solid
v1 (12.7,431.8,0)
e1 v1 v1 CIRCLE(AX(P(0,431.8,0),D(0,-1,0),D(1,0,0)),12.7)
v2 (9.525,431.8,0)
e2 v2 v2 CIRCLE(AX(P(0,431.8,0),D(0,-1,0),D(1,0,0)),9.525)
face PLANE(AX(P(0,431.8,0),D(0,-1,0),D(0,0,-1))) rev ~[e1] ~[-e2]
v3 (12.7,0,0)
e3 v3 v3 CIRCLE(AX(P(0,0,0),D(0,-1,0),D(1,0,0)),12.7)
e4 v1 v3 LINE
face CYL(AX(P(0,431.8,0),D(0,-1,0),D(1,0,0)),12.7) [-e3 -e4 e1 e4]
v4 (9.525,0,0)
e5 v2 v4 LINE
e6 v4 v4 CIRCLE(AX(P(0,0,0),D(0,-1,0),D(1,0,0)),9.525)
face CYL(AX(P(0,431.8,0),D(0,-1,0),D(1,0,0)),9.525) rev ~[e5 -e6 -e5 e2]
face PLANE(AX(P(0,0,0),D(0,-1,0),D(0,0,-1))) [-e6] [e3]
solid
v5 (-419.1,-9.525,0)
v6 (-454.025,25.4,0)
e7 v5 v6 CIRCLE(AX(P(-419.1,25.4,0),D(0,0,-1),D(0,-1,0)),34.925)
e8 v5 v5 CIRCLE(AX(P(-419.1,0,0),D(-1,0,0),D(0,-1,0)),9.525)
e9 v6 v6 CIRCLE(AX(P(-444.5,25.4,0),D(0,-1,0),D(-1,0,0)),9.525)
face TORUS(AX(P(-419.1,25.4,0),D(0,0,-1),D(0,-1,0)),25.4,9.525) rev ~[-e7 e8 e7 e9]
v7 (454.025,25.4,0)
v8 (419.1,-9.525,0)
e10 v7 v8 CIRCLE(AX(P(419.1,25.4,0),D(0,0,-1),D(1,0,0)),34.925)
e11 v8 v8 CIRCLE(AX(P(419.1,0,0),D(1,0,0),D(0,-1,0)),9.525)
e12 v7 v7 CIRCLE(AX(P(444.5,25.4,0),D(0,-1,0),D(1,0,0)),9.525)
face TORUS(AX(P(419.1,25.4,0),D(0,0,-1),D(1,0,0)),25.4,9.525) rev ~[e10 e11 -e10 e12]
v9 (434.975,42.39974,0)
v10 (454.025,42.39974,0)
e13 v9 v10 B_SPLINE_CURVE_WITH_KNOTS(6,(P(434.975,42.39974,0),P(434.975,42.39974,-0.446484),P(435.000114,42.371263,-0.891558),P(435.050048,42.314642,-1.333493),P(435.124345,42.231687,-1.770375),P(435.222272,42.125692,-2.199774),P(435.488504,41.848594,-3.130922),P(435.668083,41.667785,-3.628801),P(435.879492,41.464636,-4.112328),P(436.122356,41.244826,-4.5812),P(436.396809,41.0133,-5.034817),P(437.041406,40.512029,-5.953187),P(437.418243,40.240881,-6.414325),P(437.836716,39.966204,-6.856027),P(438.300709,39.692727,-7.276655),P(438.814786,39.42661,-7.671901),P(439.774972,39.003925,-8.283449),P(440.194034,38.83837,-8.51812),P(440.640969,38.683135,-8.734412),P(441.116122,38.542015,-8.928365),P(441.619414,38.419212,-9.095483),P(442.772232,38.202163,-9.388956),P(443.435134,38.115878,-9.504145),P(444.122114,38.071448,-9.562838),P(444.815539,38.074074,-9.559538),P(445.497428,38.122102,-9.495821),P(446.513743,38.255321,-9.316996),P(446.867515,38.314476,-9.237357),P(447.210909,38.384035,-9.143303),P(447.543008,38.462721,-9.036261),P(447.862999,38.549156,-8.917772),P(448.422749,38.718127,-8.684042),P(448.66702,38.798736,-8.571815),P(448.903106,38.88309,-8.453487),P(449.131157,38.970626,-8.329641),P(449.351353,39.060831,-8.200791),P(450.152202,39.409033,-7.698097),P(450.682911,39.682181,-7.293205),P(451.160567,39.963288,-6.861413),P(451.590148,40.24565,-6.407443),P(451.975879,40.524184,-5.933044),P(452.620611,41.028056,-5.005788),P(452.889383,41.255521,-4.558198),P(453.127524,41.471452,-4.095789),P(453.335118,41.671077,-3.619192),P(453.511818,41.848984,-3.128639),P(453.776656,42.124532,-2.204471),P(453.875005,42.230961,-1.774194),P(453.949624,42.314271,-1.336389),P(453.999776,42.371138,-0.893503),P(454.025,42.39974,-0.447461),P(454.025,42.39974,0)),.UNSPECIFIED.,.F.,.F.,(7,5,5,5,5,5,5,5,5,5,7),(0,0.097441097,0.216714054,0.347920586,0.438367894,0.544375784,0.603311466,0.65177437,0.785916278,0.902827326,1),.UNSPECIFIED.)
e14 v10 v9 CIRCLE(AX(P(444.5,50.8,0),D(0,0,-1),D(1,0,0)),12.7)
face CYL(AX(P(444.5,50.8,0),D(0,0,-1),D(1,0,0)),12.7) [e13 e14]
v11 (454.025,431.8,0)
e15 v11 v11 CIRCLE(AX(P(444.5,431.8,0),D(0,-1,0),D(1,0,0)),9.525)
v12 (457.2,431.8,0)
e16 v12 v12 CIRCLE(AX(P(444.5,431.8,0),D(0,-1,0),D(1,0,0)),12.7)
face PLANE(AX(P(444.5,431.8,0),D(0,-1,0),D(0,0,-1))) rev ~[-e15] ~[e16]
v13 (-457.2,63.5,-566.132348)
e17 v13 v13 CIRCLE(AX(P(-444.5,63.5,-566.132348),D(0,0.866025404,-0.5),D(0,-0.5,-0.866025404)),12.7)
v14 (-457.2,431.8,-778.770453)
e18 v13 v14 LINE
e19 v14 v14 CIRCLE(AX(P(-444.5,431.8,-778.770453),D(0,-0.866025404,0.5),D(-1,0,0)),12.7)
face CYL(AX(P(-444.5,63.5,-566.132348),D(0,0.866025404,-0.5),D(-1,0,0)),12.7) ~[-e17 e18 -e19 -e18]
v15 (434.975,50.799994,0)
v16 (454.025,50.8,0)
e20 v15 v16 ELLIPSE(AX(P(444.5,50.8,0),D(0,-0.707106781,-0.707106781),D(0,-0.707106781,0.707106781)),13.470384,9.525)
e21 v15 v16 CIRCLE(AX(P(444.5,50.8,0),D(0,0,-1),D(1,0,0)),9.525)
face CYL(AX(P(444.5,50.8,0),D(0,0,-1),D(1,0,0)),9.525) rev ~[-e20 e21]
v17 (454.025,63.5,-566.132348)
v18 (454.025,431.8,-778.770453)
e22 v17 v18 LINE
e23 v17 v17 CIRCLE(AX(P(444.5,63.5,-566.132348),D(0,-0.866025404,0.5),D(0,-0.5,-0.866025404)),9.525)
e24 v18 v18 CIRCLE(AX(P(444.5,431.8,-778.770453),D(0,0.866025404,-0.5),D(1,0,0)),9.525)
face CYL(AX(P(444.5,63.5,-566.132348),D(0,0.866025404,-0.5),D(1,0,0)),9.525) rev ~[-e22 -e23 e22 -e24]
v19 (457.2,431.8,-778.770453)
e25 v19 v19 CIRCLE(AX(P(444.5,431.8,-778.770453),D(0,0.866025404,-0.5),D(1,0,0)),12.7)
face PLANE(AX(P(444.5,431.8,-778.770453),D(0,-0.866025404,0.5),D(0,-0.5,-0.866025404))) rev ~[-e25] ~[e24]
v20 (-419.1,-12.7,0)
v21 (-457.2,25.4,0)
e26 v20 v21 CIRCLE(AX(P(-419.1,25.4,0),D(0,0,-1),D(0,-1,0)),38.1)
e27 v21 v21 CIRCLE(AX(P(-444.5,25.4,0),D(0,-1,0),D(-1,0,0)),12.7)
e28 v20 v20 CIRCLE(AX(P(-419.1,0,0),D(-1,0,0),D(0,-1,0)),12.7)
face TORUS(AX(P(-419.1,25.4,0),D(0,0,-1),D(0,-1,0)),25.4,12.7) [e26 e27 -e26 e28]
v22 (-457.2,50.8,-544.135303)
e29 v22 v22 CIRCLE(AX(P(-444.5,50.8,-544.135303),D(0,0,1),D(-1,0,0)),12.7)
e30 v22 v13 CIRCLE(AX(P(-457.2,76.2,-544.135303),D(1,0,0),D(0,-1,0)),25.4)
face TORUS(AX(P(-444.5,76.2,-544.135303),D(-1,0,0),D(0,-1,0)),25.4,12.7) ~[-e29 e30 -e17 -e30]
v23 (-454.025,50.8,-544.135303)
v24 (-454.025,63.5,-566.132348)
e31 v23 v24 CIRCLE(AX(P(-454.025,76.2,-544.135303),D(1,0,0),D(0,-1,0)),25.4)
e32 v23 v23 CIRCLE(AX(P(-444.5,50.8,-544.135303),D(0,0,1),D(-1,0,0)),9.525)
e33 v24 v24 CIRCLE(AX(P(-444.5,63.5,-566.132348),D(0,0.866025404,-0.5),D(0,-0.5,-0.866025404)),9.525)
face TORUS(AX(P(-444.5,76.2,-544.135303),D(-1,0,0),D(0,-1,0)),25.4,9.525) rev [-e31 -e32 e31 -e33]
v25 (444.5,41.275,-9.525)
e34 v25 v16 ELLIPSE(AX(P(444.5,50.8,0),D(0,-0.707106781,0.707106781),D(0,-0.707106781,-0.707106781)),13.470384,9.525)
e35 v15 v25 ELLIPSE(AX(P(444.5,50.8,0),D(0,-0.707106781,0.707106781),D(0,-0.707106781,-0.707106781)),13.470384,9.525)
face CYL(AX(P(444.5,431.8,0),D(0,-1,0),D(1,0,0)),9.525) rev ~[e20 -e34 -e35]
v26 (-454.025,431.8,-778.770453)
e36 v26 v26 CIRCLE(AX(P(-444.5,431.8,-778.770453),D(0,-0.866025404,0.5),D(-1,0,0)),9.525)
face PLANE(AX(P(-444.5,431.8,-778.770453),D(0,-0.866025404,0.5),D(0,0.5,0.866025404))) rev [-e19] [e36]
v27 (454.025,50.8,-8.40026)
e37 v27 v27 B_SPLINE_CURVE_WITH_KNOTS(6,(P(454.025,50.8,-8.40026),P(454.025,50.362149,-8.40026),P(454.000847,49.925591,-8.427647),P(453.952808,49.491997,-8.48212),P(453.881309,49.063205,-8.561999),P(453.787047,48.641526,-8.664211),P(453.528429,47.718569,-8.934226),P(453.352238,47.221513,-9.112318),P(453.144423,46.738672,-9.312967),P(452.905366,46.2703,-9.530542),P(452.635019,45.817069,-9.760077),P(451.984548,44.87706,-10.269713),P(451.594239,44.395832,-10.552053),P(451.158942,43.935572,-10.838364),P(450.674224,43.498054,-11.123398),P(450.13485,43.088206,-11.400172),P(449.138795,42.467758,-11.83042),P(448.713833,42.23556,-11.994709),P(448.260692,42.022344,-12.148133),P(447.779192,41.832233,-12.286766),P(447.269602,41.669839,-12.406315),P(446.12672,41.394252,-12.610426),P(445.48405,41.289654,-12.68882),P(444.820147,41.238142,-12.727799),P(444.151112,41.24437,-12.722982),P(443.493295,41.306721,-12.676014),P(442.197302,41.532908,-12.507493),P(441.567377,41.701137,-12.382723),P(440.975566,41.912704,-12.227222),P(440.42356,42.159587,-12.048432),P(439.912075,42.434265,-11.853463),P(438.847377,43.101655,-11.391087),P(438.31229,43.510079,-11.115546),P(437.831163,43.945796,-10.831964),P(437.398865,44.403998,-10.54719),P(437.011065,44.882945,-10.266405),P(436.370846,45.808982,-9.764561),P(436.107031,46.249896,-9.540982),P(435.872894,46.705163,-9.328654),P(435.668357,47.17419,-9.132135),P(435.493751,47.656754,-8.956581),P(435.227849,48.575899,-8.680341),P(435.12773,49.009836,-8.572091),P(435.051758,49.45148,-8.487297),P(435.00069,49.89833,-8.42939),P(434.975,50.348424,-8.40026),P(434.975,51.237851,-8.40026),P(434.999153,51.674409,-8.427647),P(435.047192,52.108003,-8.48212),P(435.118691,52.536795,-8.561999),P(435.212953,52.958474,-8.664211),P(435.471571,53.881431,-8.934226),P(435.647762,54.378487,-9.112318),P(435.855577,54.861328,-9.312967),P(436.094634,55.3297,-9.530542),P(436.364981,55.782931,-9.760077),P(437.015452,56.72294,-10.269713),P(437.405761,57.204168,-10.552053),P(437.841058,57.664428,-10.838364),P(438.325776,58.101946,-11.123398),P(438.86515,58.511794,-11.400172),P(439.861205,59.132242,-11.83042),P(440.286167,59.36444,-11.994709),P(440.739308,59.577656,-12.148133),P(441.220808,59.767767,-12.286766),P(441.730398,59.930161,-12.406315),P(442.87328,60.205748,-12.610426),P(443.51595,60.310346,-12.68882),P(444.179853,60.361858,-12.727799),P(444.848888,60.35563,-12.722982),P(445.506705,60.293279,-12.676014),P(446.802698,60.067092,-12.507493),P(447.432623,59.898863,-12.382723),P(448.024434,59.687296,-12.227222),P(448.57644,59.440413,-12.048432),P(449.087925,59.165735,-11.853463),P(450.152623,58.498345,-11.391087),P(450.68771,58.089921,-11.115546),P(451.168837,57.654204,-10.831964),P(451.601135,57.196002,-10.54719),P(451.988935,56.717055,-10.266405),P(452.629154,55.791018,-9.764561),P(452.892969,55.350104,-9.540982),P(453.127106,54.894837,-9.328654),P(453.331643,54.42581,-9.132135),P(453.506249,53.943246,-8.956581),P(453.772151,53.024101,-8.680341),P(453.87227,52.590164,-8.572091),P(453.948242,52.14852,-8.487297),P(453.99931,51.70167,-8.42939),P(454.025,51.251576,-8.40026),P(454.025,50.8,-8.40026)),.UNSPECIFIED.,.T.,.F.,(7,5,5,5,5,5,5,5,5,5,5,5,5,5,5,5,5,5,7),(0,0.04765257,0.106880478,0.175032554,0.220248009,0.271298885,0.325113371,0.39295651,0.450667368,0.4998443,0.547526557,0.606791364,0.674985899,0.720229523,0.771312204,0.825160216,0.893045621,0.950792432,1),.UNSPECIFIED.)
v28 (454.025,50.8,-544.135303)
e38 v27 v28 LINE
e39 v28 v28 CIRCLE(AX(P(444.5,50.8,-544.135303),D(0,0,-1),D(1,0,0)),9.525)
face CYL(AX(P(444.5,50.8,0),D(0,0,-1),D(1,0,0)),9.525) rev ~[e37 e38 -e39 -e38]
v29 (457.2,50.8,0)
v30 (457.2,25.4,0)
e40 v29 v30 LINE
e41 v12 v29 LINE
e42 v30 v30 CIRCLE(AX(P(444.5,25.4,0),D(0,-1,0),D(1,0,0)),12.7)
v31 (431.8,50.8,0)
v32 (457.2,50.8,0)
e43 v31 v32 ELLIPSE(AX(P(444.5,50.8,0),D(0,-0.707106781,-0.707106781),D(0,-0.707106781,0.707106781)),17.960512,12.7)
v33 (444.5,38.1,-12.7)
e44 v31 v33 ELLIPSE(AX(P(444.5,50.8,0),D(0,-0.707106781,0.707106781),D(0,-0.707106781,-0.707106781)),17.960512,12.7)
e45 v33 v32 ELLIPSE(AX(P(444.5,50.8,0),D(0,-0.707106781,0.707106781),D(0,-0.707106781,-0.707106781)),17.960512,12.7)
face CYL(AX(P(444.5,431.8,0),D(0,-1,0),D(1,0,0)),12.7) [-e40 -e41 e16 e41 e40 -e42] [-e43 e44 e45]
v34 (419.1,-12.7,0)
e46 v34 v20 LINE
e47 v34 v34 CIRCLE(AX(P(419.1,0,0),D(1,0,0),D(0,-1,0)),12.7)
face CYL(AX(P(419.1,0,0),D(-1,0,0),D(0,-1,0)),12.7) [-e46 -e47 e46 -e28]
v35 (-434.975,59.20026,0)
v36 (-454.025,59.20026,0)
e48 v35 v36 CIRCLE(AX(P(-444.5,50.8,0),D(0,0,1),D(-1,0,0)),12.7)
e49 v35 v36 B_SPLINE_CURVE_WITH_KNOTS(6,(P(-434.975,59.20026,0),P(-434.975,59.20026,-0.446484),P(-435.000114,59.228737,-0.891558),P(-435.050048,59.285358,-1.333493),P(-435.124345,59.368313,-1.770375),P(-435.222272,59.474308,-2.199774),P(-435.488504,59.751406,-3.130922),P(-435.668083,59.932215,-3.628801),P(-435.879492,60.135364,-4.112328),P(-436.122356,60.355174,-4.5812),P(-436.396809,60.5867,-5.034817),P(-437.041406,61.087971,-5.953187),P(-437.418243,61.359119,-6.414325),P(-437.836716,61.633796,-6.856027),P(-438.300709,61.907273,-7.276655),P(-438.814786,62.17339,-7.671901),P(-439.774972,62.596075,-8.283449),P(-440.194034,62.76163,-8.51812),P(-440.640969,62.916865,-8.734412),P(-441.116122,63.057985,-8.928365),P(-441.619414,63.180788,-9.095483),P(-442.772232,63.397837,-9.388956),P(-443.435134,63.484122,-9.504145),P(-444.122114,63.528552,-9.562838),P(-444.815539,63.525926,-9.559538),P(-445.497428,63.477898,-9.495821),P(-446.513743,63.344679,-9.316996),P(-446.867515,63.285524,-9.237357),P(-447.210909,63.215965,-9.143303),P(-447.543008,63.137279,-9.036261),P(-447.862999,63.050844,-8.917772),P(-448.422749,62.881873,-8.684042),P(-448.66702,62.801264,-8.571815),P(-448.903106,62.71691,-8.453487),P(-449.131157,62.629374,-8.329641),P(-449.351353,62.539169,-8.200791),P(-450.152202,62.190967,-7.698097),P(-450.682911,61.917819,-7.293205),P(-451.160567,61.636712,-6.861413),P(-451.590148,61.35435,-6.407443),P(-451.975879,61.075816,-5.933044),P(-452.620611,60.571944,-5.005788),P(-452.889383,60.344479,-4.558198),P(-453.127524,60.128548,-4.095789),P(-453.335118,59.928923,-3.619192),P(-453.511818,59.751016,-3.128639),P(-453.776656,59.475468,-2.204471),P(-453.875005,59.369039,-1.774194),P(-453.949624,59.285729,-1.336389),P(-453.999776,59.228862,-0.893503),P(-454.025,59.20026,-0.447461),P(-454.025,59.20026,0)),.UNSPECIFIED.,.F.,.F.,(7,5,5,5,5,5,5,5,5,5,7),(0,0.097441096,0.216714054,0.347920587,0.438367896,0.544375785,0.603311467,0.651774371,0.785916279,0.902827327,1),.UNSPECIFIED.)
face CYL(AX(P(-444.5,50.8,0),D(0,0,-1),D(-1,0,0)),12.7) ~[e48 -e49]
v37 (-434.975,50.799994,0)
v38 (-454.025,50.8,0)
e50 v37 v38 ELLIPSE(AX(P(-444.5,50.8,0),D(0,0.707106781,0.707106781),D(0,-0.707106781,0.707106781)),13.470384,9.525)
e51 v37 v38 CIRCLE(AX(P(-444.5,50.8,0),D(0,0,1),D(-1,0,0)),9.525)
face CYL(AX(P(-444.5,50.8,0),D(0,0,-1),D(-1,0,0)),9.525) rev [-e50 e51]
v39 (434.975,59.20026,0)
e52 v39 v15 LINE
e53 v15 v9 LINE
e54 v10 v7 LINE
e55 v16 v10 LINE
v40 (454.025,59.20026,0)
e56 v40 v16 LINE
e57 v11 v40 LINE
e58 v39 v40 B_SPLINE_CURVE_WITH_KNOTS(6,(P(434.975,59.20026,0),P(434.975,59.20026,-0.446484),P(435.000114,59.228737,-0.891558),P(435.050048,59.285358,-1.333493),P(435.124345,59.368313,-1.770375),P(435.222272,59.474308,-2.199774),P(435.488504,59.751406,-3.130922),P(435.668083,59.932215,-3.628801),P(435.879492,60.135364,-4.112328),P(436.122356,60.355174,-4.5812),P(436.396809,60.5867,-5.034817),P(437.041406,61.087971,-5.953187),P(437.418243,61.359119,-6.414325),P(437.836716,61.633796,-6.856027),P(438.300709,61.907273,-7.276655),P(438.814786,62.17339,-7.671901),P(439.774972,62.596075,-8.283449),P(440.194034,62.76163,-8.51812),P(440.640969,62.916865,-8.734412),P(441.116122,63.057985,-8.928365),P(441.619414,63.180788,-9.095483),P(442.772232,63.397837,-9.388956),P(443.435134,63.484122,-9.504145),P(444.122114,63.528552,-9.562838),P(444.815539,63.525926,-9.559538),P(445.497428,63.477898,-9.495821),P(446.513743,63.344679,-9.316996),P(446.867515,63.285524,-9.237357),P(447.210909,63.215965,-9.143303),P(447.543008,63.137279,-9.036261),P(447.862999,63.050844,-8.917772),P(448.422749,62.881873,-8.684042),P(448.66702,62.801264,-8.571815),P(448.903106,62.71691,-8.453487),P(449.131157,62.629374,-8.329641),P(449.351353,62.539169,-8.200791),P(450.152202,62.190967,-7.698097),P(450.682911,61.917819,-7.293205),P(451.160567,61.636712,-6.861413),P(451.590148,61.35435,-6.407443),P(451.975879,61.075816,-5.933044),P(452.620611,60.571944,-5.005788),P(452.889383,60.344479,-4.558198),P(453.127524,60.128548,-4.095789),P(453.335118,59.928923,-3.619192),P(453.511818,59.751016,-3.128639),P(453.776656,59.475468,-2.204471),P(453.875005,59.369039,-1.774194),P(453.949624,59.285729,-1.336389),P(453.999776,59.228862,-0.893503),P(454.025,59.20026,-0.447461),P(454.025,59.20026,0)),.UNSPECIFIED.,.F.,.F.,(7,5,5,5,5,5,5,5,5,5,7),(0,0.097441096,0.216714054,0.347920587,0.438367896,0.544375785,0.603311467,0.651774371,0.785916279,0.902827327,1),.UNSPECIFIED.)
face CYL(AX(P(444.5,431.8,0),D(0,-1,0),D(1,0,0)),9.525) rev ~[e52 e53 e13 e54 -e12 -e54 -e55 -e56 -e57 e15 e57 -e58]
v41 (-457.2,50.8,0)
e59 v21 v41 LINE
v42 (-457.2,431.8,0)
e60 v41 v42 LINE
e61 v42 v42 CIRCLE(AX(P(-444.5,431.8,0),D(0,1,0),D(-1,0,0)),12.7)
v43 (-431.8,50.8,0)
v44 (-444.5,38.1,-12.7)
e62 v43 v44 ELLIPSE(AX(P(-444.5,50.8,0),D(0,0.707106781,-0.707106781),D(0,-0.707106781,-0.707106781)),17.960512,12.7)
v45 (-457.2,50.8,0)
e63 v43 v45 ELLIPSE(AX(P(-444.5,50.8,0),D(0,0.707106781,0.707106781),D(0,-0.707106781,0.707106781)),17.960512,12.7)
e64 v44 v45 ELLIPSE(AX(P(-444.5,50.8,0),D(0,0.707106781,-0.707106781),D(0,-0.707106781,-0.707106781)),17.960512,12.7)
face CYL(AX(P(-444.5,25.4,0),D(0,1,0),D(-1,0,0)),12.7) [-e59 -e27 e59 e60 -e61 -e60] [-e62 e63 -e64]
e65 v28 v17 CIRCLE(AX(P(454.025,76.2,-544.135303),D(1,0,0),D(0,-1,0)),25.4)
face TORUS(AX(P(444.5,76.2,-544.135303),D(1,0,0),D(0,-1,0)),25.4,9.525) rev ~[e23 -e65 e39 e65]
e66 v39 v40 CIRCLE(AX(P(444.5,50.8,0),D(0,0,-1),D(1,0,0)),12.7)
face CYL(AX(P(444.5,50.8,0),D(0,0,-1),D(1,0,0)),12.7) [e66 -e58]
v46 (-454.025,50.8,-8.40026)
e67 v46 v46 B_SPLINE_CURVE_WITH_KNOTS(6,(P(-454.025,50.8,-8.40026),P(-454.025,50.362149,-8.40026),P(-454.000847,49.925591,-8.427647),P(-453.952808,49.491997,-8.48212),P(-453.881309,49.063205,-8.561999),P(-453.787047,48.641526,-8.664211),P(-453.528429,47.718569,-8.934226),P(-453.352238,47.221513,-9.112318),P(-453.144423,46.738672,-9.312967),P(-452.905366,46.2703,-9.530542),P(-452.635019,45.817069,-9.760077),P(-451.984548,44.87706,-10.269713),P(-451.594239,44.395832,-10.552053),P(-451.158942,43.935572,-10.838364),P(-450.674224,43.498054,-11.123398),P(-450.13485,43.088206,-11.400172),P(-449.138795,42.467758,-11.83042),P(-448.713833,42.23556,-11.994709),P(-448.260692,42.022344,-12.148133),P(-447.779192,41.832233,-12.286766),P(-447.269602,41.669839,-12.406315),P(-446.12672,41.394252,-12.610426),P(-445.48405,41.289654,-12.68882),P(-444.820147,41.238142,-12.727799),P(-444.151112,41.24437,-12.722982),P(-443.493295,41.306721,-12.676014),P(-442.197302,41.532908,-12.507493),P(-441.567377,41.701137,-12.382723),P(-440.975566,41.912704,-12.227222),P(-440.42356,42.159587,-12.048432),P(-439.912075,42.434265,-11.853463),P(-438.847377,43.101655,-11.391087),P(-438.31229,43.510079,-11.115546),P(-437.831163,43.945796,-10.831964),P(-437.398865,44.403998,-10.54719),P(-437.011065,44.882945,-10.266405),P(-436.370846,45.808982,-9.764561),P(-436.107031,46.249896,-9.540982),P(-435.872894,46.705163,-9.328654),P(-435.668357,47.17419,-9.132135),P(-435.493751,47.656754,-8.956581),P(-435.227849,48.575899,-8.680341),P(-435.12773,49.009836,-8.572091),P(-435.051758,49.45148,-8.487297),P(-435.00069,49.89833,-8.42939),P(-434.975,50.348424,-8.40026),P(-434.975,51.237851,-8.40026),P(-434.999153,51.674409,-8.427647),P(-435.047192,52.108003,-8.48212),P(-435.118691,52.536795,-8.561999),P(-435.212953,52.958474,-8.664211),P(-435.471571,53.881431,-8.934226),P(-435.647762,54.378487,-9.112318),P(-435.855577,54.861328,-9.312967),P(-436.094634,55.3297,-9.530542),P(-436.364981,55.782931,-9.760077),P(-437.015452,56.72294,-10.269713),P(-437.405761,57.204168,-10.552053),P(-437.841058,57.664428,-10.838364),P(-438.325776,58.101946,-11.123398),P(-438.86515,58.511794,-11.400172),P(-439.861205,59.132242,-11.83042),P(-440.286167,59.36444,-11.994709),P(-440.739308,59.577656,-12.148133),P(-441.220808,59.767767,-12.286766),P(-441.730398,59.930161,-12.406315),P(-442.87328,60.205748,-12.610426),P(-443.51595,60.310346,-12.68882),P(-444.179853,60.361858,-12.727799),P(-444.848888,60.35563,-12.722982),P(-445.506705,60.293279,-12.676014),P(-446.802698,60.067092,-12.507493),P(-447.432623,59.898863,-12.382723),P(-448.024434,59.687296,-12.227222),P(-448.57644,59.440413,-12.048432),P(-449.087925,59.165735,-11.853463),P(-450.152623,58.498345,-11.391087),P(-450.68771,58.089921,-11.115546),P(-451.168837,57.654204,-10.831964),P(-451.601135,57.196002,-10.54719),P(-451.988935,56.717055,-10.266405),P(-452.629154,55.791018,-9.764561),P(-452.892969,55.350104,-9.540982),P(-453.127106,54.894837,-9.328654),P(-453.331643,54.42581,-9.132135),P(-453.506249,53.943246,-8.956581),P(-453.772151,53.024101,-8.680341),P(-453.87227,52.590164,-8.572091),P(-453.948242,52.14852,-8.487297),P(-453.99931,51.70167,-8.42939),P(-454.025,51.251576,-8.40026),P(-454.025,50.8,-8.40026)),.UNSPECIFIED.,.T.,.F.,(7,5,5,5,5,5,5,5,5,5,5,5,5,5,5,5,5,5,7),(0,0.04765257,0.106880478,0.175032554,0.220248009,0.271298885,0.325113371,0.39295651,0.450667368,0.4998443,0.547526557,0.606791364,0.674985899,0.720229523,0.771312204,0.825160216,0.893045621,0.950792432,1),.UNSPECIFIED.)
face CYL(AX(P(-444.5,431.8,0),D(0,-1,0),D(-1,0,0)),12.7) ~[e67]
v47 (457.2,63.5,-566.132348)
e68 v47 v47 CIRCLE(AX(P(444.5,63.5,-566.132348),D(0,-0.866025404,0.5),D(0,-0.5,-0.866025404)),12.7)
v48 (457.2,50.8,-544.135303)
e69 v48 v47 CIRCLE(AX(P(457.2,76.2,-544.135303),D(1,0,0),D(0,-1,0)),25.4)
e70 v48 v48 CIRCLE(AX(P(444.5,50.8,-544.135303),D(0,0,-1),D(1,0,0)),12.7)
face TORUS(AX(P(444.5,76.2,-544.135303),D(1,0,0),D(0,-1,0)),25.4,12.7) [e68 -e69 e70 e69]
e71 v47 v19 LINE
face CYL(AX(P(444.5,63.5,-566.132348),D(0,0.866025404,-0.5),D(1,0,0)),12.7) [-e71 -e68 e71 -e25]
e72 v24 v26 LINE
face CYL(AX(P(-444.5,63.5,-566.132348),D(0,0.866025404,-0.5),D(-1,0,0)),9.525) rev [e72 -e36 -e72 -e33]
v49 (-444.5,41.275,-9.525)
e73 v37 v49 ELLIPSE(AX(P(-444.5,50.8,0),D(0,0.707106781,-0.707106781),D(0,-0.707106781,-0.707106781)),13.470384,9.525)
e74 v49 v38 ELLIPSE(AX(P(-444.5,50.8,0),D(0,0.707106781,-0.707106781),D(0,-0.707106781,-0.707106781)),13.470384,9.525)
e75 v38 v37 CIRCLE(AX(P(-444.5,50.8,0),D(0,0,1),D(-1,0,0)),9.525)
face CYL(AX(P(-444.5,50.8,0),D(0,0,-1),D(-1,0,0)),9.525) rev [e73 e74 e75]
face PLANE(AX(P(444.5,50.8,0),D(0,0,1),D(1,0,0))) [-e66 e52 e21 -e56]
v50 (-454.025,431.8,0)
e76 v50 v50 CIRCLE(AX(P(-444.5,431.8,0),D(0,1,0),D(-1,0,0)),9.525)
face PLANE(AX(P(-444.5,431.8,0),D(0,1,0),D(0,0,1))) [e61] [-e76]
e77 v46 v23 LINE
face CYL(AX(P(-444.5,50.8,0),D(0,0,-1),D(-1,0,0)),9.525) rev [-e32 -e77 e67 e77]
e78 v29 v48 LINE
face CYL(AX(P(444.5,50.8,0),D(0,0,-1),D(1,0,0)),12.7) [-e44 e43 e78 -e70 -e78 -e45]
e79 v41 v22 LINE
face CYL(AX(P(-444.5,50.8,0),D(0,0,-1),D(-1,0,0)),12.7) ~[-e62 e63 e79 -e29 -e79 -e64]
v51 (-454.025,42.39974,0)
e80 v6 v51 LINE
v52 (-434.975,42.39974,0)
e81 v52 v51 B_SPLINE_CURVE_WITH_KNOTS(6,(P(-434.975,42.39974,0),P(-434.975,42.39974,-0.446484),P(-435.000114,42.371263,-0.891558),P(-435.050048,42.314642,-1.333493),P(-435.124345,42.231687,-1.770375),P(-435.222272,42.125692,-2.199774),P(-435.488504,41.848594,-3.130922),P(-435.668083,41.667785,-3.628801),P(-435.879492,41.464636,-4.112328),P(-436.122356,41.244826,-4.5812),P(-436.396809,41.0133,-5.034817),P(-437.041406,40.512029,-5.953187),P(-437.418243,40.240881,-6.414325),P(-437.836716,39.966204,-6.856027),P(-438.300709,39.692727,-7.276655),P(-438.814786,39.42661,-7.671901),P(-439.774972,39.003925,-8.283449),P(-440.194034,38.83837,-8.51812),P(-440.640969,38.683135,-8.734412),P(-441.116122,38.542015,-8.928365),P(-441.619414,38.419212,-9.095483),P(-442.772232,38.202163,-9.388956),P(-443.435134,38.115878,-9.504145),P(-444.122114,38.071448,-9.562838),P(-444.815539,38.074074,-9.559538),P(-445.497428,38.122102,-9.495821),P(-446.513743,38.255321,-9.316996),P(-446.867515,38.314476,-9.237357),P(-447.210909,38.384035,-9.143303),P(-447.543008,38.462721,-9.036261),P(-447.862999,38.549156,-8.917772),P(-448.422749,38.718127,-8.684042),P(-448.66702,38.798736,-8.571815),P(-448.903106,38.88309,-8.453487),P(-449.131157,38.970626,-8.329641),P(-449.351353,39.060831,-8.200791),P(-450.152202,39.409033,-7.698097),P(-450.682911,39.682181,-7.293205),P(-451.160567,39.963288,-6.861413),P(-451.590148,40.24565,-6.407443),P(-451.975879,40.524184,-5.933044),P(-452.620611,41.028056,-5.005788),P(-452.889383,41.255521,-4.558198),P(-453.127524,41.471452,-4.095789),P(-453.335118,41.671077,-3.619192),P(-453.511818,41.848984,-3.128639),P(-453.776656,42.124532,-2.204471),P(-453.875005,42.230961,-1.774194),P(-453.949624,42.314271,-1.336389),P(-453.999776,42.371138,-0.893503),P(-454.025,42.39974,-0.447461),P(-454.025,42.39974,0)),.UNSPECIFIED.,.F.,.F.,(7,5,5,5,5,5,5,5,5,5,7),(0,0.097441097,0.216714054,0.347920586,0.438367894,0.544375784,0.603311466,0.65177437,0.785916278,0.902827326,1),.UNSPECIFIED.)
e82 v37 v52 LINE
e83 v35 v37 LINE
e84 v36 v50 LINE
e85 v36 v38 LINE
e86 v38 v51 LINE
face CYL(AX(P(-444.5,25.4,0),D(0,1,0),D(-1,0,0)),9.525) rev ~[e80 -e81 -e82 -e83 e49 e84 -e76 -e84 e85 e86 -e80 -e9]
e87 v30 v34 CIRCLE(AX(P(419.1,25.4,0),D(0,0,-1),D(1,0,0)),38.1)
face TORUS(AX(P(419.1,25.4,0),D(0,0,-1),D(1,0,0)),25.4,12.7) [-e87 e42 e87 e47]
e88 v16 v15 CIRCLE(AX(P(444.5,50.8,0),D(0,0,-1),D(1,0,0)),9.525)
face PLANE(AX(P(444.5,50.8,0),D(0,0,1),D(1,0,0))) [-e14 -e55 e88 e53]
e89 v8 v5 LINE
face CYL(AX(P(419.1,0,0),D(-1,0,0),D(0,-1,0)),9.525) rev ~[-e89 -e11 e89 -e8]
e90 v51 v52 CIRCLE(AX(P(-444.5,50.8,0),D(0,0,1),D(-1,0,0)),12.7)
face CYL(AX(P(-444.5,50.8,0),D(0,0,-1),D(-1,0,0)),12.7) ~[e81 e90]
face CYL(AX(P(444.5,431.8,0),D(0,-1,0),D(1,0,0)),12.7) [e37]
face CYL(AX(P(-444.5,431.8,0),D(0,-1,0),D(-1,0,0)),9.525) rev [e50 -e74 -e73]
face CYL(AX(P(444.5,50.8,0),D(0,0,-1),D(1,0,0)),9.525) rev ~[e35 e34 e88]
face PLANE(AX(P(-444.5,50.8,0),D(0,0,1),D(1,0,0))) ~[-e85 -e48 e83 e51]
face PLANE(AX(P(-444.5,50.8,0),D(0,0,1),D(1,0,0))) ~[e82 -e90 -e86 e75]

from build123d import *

# Parameters (mm, degrees)
F2_R   = 12.7
F2_R_2 = 9.525
F4_R   = 12.7
F4_R_2 = 9.525
F6_R   = 12.7
F6_R_2 = 9.525


with BuildPart() as f3:
    # F3: sweep along a path in F0
    with BuildLine(Plane.XY) as f3_path:
        Line((444.5, 431.8), (444.5, 25.4))
        ThreePointArc((444.5, 25.4), (437.0605122421, 7.4394877579), (419.1, 0))
        Line((419.1, 0), (-419.1, 0))
        ThreePointArc((-419.1, 0), (-437.0605122421, 7.4394877579), (-444.5, 25.4))
        Line((-444.5, 25.4), (-444.5, 431.8))
    # F2 (on offset) → F3 (sweep)
    with BuildSketch(Plane.XZ.offset(-431.8)):
        with Locations((444.5, 0)):
            Circle(F2_R)
        with Locations((444.5, 0)):
            Circle(F2_R_2, mode=Mode.SUBTRACT)
    sweep(path=f3_path.line)

    # F9: sweep along a path in F8
    with BuildLine(Plane.YZ.offset(444.5)) as f9_path:
        Line((50.8, 0), (50.8, -544.1353031626))
        ThreePointArc((50.8, -544.1353031626), (54.2029547439, -556.8353031626), (63.5, -566.1323484187))
        Line((63.5, -566.1323484187), (431.8, -778.7704525612))
    # F6 (on Top) → F9 (sweep)
    with BuildSketch(Plane.XY):
        with Locations((444.5, 50.8)):
            Circle(F6_R)
        with Locations((444.5, 50.8)):
            Circle(F6_R_2, mode=Mode.SUBTRACT)
    sweep(path=f9_path.line)

    # F10: F3 across plane


with BuildPart() as f5:
    # F5: sweep along a path in F0
    with BuildLine(Plane.XY) as f5_path:
        Line((0, 431.8), (0, 0))
    # F4 (on Front) → F5 (sweep)
    with BuildSketch(Plane.XZ):
        Circle(F4_R)
        Circle(F4_R_2, mode=Mode.SUBTRACT)
    sweep(path=f5_path.line)


with BuildPart() as f3_1:
    add(f3.part)
    add(f3.part.mirror(Plane.YZ))


solid = Compound([f5.part, f3_1.part])
